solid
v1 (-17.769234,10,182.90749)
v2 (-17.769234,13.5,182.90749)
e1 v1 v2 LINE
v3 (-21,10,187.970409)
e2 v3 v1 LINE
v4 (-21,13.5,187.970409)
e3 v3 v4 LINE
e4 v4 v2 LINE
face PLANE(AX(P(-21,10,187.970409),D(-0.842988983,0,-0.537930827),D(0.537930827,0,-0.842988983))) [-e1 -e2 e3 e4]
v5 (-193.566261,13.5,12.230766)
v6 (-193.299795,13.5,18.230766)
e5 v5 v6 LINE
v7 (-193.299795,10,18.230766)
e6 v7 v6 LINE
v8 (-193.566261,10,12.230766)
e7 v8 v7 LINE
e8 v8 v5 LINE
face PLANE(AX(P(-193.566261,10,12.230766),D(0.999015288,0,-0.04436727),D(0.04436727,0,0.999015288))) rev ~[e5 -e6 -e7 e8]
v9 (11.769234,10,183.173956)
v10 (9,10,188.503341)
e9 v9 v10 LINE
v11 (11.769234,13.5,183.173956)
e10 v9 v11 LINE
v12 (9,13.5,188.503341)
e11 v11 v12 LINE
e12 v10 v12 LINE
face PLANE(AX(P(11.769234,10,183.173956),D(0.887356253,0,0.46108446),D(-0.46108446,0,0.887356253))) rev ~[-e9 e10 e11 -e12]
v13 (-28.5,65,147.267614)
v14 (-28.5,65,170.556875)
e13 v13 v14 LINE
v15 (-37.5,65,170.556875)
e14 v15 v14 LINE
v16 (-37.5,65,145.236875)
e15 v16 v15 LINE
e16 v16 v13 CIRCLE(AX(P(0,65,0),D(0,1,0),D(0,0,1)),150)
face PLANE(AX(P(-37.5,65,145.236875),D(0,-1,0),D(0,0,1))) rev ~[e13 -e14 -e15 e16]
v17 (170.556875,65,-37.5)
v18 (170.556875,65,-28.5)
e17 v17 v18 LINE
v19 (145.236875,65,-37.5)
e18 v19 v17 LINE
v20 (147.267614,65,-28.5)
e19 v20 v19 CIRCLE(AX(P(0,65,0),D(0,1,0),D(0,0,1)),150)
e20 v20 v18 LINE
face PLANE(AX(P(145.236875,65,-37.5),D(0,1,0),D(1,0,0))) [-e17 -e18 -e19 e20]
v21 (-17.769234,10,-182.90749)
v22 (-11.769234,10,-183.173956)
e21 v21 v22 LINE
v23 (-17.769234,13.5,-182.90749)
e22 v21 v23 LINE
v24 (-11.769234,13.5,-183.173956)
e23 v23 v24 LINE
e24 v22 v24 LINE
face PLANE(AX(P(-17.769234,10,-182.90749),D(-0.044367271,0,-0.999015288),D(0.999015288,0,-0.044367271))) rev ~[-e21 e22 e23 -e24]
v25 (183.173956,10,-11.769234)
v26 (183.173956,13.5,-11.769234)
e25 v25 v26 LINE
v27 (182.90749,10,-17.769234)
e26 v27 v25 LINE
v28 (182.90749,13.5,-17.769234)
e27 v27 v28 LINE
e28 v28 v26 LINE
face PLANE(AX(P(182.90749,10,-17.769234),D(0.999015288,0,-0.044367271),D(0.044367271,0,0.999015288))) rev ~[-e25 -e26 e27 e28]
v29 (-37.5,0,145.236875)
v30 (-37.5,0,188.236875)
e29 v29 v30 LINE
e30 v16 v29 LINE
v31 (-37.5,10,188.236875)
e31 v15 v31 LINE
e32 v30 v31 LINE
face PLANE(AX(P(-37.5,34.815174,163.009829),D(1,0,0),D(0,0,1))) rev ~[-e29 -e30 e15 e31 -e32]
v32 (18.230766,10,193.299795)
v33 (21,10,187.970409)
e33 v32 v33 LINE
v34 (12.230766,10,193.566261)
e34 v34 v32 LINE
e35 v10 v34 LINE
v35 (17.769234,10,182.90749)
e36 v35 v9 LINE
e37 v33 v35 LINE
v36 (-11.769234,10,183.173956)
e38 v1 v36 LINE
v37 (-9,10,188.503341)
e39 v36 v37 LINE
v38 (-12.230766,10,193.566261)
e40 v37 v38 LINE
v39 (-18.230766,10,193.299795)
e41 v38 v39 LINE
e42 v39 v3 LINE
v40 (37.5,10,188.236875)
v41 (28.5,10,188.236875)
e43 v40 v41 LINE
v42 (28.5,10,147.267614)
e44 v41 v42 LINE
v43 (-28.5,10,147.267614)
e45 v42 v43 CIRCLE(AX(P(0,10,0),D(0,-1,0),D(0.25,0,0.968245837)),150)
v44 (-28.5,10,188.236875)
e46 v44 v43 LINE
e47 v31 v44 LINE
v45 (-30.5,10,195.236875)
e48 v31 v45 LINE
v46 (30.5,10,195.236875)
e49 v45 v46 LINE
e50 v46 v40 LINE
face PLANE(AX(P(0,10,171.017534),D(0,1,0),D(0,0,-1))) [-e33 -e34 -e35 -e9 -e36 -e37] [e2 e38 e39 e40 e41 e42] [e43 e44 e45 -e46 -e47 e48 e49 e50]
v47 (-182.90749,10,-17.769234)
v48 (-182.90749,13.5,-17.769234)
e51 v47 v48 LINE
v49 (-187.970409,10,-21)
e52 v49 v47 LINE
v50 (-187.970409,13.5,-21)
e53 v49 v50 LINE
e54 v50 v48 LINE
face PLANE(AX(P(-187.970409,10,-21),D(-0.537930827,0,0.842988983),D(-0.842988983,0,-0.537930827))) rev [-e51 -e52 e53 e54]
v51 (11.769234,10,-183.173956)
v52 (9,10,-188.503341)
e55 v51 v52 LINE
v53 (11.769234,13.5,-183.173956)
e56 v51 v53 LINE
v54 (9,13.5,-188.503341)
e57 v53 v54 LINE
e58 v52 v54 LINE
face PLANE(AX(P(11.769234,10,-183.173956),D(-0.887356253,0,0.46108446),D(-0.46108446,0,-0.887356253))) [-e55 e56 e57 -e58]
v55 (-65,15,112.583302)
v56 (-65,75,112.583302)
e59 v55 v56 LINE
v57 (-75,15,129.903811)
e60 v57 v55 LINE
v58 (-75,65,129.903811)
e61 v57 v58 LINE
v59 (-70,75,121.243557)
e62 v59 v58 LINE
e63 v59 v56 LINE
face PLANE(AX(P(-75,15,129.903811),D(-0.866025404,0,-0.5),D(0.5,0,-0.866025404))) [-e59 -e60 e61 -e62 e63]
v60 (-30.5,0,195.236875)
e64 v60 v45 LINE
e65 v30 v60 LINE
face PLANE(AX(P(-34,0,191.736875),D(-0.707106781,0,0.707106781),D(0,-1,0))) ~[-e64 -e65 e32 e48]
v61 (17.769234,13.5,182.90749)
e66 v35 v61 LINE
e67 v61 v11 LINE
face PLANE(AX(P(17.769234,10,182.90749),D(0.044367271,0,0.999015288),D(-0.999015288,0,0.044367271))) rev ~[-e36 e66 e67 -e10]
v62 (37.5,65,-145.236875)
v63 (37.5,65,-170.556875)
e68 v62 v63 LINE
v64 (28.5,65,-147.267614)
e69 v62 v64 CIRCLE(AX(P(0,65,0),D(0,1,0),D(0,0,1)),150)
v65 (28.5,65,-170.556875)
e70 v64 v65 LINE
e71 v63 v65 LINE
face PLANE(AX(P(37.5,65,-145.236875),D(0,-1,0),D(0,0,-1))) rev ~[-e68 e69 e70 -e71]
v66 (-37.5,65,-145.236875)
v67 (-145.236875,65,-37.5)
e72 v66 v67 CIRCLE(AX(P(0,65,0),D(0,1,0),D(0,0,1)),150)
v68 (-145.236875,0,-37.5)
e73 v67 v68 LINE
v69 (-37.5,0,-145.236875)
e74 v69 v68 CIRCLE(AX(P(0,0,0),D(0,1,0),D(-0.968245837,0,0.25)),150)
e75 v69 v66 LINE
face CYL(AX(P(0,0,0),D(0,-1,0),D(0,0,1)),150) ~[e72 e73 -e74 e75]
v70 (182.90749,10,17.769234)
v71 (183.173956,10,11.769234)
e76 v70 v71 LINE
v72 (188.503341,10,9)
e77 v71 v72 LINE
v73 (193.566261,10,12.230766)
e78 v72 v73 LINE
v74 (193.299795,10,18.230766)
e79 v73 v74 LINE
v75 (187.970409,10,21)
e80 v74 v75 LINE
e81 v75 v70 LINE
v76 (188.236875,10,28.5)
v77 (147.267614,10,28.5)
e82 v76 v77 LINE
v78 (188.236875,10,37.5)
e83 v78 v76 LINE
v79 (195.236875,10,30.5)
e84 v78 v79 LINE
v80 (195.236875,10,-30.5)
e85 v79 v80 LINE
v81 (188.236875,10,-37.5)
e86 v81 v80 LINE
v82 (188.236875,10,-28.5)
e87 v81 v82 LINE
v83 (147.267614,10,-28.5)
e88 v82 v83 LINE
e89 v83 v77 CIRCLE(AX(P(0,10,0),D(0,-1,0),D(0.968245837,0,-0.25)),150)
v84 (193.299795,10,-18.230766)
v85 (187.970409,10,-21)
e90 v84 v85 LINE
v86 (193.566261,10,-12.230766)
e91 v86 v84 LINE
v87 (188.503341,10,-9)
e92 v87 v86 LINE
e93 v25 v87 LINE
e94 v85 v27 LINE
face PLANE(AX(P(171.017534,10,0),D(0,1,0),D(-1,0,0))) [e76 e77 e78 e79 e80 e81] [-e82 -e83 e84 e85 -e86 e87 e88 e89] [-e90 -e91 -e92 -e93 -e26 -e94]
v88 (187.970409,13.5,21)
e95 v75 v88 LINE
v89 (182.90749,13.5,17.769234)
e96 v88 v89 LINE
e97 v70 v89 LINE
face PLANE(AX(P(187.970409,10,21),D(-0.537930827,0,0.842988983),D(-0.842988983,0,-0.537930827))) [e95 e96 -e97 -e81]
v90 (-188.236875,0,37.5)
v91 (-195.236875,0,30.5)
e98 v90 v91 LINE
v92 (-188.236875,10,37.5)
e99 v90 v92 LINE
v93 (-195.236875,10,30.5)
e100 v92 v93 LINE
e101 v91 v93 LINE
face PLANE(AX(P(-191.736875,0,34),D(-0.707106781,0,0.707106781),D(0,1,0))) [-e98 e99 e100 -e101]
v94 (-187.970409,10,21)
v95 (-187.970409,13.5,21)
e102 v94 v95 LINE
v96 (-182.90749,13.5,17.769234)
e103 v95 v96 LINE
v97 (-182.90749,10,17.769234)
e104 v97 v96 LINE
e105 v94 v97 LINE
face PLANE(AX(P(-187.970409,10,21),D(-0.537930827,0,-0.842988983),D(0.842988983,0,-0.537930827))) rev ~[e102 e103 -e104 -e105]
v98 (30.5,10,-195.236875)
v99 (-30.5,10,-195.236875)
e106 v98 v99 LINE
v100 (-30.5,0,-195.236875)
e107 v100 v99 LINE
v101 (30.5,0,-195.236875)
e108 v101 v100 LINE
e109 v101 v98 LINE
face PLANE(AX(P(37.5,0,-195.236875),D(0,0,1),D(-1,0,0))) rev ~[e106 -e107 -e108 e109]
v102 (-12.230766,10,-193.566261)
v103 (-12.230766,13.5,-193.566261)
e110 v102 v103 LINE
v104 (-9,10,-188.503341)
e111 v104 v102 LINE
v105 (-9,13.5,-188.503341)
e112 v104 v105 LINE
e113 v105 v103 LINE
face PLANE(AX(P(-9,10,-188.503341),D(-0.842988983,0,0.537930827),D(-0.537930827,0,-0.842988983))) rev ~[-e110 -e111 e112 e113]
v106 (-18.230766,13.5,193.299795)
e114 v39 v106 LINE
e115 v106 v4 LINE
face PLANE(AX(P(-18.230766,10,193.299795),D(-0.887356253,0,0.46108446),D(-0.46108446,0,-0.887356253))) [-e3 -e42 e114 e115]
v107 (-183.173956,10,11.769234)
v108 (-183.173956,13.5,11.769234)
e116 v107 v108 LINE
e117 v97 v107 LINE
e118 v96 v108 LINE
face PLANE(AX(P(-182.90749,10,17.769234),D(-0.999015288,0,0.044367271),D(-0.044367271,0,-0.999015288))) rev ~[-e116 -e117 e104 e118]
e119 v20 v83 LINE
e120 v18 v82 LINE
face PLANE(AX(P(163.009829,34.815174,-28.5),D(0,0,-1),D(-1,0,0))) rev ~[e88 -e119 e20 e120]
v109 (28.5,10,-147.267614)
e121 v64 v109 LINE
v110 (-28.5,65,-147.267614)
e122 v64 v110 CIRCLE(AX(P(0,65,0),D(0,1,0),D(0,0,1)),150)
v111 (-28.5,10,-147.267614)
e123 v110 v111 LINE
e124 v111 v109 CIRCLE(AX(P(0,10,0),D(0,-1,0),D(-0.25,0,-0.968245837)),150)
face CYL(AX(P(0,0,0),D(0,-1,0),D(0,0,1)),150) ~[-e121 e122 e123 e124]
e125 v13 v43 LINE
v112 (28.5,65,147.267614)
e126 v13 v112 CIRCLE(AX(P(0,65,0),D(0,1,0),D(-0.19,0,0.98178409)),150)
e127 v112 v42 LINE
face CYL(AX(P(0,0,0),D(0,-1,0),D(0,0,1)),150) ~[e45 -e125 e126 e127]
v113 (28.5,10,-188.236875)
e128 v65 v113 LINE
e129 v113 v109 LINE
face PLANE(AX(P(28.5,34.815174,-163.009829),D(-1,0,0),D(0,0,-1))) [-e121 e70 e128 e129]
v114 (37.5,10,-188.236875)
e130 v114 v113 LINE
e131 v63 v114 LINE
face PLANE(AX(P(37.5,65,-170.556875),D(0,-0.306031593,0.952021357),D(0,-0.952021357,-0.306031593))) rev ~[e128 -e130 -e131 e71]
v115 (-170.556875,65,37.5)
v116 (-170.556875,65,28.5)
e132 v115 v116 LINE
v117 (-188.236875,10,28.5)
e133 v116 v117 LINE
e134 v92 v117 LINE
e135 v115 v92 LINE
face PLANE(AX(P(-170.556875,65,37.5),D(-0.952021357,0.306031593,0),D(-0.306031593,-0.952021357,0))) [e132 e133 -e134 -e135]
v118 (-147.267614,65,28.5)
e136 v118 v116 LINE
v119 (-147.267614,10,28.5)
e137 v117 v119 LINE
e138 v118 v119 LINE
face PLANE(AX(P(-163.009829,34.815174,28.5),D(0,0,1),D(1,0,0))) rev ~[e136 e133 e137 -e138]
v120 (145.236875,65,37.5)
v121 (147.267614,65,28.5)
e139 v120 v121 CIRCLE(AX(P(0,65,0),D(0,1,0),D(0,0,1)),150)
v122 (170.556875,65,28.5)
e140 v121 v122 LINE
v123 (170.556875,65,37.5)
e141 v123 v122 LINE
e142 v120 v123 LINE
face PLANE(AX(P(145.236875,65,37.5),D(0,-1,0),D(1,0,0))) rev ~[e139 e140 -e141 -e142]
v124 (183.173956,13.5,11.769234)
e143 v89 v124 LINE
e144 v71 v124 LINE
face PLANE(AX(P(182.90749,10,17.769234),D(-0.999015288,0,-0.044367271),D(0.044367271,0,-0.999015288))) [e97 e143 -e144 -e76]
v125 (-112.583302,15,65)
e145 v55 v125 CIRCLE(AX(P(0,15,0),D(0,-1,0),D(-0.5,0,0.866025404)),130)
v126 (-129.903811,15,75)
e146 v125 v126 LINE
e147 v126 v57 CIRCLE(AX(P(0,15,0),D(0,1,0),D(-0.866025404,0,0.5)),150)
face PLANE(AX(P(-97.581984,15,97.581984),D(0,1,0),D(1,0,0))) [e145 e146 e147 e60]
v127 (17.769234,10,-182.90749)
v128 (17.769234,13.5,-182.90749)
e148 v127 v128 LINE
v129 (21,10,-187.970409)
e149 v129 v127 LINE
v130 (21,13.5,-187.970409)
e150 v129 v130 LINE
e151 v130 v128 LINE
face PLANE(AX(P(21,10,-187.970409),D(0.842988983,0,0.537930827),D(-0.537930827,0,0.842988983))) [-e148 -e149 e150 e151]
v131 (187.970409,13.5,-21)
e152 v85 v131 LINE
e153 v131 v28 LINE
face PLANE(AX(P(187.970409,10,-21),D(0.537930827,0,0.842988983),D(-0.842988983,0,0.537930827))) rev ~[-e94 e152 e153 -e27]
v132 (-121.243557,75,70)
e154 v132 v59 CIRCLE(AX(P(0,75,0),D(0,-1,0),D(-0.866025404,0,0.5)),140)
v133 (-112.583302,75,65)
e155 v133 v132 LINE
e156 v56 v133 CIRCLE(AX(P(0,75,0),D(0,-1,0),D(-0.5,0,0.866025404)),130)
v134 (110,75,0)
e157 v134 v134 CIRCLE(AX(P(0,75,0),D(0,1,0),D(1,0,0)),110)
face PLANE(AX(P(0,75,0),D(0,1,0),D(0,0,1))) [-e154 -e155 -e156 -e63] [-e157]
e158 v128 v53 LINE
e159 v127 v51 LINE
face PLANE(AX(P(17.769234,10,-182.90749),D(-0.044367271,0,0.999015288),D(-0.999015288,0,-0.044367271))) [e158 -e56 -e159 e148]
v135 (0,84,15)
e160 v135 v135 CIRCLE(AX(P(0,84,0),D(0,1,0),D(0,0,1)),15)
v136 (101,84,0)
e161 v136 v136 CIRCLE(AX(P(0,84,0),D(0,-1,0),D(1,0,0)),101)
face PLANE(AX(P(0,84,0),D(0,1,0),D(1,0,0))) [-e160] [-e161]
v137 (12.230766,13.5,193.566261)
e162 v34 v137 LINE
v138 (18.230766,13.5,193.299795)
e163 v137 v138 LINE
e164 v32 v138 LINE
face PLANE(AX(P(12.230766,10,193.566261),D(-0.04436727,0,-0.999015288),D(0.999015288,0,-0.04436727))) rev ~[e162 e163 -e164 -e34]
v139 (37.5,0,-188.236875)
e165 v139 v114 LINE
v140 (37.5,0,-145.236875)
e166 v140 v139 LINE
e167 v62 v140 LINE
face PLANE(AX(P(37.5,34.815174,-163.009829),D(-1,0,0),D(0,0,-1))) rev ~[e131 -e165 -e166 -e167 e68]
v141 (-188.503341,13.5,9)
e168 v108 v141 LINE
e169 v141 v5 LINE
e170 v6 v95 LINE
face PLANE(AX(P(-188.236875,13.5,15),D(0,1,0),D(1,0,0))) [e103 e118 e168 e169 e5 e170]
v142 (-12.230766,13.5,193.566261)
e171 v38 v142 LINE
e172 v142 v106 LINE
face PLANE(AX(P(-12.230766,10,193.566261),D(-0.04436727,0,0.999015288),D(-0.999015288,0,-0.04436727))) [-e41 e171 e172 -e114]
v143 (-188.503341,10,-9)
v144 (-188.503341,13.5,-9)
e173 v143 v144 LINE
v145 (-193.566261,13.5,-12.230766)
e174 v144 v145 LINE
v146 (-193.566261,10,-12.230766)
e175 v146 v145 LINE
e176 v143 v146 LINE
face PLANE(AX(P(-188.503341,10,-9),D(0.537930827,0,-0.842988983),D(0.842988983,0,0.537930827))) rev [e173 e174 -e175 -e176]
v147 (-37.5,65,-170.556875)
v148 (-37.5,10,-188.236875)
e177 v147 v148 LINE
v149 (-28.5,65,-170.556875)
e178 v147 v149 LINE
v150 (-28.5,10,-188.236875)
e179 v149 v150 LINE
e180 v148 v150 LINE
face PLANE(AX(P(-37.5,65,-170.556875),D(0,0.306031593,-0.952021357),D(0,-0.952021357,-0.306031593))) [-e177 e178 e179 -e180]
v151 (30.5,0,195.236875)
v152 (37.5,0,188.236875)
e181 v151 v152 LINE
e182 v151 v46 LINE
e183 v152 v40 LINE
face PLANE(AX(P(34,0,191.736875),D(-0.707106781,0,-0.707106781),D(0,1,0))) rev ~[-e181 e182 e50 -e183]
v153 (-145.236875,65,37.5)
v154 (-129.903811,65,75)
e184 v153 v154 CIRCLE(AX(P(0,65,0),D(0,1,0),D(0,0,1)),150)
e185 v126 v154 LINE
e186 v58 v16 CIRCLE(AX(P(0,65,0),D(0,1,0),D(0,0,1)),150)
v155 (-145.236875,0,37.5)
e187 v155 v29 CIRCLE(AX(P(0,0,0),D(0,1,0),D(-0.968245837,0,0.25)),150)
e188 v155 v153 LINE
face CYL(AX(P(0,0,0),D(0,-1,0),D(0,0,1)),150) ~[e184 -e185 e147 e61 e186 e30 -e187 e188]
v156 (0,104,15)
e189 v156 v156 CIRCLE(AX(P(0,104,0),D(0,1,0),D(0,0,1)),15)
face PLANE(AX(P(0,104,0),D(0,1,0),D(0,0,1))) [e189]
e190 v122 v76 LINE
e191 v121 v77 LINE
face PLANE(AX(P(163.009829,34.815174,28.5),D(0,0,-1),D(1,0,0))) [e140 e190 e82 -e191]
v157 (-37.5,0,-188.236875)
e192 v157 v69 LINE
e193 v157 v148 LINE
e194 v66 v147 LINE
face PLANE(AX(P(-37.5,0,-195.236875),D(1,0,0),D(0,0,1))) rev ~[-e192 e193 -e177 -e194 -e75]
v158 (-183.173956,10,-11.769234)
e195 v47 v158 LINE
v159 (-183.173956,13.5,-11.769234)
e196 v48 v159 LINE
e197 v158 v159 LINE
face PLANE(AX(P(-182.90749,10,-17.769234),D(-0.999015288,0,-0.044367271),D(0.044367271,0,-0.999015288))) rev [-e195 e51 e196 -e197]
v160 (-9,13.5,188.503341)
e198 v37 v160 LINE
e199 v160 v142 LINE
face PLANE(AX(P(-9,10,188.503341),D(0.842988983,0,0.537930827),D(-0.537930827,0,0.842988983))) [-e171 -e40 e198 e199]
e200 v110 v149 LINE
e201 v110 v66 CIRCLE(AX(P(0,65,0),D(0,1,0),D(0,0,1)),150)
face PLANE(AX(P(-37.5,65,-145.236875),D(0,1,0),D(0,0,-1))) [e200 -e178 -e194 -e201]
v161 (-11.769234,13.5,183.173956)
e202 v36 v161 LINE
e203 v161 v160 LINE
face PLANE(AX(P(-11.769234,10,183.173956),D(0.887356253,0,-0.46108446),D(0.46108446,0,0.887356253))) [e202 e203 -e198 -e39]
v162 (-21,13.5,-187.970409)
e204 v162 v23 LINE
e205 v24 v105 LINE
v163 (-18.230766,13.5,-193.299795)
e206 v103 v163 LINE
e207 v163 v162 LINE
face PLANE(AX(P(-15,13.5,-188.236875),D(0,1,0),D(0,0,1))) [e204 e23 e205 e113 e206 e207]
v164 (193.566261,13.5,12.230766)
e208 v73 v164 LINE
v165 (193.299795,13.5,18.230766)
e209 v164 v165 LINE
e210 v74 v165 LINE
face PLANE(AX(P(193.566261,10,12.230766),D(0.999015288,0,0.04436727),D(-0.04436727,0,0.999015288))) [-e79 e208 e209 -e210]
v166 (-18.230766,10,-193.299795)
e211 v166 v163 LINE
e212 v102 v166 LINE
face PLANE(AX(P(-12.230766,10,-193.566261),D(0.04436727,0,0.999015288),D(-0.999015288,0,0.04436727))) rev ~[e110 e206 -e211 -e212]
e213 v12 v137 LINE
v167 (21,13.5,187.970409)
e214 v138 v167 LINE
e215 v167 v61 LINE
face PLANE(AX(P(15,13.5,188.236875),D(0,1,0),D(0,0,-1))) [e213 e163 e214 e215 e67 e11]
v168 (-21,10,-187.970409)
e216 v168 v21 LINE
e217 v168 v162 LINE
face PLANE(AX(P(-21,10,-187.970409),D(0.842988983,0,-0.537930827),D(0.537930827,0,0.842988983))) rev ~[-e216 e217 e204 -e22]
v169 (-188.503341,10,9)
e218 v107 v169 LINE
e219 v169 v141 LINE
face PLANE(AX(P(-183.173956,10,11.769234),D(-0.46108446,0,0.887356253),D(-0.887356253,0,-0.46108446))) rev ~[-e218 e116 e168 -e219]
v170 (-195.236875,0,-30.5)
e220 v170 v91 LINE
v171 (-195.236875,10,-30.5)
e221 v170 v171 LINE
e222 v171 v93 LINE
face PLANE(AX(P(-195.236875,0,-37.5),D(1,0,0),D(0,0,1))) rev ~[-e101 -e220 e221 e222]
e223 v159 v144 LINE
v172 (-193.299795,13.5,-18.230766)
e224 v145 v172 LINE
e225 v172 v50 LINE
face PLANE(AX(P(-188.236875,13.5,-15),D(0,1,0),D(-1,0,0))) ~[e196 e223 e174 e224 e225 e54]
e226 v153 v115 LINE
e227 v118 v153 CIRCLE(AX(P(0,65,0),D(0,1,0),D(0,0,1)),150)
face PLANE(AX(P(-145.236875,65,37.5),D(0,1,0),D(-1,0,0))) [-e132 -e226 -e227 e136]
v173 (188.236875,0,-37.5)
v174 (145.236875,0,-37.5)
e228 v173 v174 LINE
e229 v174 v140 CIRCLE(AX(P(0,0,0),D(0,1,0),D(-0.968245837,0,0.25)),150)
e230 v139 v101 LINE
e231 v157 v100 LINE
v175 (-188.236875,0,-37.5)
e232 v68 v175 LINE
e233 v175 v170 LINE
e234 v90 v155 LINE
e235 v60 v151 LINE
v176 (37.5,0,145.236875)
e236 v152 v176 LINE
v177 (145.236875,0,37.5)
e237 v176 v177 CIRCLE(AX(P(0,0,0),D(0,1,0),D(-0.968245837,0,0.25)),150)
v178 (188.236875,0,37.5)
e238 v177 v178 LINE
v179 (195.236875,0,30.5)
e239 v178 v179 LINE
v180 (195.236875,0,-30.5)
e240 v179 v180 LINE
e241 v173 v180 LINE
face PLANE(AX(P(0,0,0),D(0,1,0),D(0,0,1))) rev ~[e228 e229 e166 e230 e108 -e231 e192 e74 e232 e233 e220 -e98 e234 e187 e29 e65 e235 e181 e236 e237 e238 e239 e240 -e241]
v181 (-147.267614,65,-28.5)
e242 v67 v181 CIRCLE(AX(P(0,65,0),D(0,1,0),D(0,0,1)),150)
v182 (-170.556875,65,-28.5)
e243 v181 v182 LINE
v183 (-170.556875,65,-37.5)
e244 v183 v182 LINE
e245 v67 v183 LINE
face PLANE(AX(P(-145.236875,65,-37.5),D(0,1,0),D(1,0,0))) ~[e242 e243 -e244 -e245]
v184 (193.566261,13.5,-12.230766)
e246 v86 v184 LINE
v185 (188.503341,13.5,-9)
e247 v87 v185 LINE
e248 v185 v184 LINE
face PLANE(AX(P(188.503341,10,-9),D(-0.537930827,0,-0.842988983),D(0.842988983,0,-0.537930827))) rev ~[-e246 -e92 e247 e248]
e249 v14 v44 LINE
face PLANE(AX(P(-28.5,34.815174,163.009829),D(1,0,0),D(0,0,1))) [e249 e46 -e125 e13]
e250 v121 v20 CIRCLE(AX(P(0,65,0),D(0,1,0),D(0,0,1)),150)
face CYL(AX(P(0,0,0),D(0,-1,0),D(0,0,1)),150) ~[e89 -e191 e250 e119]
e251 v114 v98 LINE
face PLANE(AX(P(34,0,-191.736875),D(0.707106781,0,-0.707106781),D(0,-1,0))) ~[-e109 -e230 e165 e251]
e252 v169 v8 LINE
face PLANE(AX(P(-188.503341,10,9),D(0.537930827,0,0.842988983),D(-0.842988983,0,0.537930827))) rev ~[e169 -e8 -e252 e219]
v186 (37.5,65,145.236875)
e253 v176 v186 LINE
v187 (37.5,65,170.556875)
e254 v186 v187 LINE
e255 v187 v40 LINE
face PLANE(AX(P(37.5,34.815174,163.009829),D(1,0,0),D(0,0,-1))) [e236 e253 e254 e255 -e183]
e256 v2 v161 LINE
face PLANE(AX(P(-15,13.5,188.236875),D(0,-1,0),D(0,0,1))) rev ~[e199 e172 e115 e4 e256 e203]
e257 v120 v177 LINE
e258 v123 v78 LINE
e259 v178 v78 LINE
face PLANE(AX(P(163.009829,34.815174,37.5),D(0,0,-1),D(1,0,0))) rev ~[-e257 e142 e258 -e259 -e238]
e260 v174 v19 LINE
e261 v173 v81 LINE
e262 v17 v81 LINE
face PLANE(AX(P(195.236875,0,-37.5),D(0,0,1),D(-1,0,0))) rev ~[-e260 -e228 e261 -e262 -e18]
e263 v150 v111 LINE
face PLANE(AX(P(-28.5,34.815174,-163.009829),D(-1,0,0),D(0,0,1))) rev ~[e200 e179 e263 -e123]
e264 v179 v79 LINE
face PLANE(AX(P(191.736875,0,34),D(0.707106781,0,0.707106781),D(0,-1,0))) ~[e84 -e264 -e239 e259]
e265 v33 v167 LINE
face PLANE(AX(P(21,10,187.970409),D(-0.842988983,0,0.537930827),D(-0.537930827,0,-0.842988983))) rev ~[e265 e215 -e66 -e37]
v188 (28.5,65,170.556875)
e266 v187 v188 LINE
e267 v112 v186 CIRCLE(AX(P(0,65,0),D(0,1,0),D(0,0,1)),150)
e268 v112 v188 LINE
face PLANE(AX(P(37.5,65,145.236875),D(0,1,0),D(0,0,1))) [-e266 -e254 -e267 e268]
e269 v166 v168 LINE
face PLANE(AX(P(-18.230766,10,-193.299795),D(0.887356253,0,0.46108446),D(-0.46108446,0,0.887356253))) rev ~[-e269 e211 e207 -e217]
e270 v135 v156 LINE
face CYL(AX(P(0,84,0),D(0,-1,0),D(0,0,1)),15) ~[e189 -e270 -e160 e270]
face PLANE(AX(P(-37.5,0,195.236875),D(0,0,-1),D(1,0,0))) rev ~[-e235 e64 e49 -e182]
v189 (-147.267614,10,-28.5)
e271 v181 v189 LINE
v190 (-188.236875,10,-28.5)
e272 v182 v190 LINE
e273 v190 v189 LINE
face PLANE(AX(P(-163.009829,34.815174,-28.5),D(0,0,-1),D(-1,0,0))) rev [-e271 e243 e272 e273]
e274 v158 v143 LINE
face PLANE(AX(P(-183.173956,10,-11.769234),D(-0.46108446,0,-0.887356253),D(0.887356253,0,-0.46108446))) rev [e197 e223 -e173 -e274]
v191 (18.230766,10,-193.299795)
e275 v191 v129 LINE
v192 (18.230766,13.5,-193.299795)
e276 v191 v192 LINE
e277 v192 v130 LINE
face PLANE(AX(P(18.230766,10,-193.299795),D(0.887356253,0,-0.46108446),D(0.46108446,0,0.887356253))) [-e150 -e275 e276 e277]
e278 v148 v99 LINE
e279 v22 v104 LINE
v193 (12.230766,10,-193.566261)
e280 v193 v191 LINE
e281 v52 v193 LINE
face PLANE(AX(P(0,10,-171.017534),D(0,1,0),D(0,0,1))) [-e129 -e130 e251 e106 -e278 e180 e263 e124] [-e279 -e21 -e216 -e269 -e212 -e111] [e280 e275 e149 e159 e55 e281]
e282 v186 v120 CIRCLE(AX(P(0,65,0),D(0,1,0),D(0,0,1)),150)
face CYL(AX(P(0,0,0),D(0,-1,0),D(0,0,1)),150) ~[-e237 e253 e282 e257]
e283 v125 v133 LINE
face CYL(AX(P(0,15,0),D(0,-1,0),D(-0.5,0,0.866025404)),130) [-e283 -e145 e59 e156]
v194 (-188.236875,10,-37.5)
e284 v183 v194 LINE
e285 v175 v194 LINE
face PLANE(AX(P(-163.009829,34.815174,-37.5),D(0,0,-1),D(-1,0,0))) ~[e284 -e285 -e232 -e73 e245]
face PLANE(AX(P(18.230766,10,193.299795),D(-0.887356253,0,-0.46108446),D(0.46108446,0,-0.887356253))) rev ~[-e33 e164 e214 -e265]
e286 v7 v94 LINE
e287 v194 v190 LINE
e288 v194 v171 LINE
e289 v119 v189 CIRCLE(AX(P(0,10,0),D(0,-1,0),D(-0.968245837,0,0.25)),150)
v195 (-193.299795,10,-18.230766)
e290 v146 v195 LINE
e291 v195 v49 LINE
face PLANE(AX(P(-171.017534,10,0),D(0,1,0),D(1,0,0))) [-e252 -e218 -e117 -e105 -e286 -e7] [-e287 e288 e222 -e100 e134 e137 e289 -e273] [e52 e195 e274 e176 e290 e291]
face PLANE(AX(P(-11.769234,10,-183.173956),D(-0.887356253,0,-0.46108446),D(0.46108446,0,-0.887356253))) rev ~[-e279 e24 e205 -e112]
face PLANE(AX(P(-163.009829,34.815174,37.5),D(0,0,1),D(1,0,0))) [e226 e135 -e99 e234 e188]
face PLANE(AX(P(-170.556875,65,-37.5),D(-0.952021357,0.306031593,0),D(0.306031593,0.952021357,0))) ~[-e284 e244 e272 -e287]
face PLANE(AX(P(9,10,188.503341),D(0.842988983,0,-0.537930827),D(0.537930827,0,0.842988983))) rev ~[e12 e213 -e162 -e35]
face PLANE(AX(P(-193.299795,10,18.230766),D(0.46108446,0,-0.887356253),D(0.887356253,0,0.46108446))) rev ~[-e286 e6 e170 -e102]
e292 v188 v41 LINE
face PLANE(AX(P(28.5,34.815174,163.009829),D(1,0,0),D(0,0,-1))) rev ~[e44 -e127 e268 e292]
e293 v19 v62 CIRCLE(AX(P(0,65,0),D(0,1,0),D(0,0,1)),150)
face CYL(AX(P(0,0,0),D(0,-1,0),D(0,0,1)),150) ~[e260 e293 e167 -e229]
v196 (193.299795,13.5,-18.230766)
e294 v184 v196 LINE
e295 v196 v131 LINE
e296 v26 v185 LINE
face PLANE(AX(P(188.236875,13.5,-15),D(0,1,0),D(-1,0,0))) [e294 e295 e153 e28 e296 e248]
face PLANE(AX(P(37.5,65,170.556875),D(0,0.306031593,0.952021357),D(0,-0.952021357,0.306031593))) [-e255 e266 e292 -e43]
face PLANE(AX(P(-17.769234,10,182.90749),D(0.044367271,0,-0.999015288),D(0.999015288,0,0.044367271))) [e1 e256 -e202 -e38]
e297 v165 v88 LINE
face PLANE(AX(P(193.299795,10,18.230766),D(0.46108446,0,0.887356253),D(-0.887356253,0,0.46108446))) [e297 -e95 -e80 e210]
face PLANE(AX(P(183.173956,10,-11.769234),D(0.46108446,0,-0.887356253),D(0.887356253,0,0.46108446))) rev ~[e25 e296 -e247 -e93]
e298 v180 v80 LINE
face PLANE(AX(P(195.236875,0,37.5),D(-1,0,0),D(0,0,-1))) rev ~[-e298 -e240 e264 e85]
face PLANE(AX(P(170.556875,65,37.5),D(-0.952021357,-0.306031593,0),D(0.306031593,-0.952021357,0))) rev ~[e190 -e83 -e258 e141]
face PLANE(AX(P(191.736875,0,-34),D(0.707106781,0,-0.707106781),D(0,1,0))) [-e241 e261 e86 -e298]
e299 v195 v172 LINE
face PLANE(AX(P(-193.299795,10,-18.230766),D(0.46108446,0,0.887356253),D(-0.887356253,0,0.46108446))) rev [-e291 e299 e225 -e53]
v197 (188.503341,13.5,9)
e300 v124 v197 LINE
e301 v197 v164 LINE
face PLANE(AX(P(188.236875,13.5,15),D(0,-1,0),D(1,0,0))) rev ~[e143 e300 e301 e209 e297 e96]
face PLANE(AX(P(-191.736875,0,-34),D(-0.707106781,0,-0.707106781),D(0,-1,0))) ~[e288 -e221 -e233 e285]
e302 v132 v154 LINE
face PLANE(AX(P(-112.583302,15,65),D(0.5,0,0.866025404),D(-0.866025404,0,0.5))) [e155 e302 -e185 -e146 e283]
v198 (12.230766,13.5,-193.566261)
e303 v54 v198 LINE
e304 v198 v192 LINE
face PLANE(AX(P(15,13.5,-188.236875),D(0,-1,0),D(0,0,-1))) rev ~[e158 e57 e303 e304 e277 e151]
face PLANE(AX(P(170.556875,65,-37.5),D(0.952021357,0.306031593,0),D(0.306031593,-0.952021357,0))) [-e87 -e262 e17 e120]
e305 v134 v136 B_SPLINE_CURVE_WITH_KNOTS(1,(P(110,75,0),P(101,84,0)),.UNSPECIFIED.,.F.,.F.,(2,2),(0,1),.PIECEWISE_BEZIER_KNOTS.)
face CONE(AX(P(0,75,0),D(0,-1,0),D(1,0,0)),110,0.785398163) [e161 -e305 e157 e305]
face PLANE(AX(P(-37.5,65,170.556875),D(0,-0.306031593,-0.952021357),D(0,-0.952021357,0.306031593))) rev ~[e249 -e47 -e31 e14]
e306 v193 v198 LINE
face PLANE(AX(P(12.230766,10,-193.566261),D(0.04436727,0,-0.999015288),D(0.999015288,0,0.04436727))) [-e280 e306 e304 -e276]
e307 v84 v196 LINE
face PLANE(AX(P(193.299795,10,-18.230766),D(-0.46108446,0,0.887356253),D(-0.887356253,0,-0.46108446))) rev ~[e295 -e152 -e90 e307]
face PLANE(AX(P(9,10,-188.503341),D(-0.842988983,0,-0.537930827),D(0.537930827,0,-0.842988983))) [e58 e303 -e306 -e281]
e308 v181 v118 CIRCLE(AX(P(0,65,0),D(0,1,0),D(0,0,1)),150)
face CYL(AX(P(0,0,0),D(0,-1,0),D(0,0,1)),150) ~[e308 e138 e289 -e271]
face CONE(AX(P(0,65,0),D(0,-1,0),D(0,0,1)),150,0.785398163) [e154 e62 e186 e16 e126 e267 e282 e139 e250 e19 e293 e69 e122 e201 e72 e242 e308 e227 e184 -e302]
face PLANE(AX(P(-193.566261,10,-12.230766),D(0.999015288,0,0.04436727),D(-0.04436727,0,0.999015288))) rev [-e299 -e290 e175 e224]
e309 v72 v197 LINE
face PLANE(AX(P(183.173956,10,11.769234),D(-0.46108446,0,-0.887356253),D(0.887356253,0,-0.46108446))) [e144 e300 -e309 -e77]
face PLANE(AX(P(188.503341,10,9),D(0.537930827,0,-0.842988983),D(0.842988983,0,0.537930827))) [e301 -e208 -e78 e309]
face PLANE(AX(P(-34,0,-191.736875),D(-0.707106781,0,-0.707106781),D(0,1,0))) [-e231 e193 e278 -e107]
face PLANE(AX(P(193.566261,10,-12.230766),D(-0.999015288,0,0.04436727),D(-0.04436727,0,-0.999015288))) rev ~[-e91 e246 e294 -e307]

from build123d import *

# Parameters (mm, degrees)
SKETCH1_R                    = 150
BOSS_EXTRUDE1_DEPTH          = 75
CHAMFER1_SIZE                = 10
BOSS_EXTRUDE2_START          = -75
BOSS_EXTRUDE2_DEPTH          = 10
CHAMFER2_SIZE                = 7
BOSS_EXTRUDE3_DEPTH          = 9
BOSS_EXTRUDE4_DEPTH          = 3.5
CIRPATTERN2_COUNT            = 4
CIRPATTERN2_COPY_1_DEPTH     = 9
CIRPATTERN2_COPY_2_DEPTH     = 9
CIRPATTERN2_COPY_3_DEPTH     = 9
CIRPATTERN2_COPY_4_DEPTH     = 3.5
CIRPATTERN2_COPY_5_DEPTH     = 3.5
CIRPATTERN2_COPY_6_DEPTH     = 3.5
CHAMFER2_OF_CIRPATTERN2_SIZE = 7
CUT_EXTRUDE2_START           = -60
CUT_EXTRUDE2_DEPTH           = 60
SKETCH7_R                    = 110
BOSS_EXTRUDE5_DEPTH          = 9
BOSS_EXTRUDE5_TAPER          = 45
SKETCH8_R                    = 15
BOSS_EXTRUDE6_DEPTH          = 20


with BuildPart() as part:
    # Sketch1 → Boss-Extrude1 (new body)
    with BuildSketch(Plane(origin=(0, 0, 0), x_dir=(1, 0, 0), z_dir=(0, 1, 0))):
        with Locations(Location((0, 0, 0), (0, 0, 270))):
            Circle(SKETCH1_R)
    extrude(amount=BOSS_EXTRUDE1_DEPTH)

    # Chamfer1
    chamfer1_edges = [part.edges().sort_by_distance(p)[0] for p in [
        (0, 75, -150),
    ]]
    chamfer(chamfer1_edges, length=CHAMFER1_SIZE)

    # Sketch2 → Boss-Extrude2 (add)
    with BuildSketch(Plane(origin=(0, 75, 0), x_dir=(1, 0, 0), z_dir=(0, 1, 0)).offset(BOSS_EXTRUDE2_START)):
        with BuildLine():
            Line((-145.236875483, 37.5), (-195.236875483, 37.5))
            Line((-195.236875483, 37.5), (-195.236875483, -37.5))
            Line((-195.236875483, -37.5), (-145.236875483, -37.5))
            ThreePointArc((-145.236875483, -37.5), (-150, 0), (-145.236875483, 37.5))
        make_face()
    boss_extrude2 = extrude(amount=BOSS_EXTRUDE2_DEPTH)

    # Chamfer2
    chamfer2_edges = [part.edges().sort_by_distance(p)[0] for p in [
        (-195.236875483, 5, -37.5),
        (-195.236875483, 5, 37.5),
    ]]
    chamfer(chamfer2_edges, length=CHAMFER2_SIZE)

    # Sketch4 → Boss-Extrude3 (add)
    with BuildSketch(Plane.XY.offset(37.5)):
        Polygon((-188.236875483, 10), (-145.236875483, 10), (-145.236875483, 65), (-170.556875483, 65), align=None)
    boss_extrude3 = extrude(amount=-BOSS_EXTRUDE3_DEPTH)

    # Sketch5 → Boss-Extrude4 (add)
    with BuildSketch(Plane(origin=(0, 10, 0), x_dir=(1, 0, 0), z_dir=(0, 1, 0))):
        Polygon((-183.173956068, -11.769233661), (-188.503341499, -9), (-193.566260913, -12.230766339), (-193.299794898, -18.230766339), (-187.970409467, -21), (-182.907490052, -17.769233661), align=None)
    boss_extrude4 = extrude(amount=BOSS_EXTRUDE4_DEPTH)

    # Mirror1: Boss-Extrude3, Boss-Extrude4 across plane
    add(boss_extrude3.mirror(Plane.XY))
    add(boss_extrude4.mirror(Plane.XY))

    # CirPattern2: Boss-Extrude2, Boss-Extrude3, Boss-Extrude4 ×4 about axis
    cirpattern2_axis = Axis((0, 0, 0), (0, 1, 0))
    add([boss_extrude2.rotate(cirpattern2_axis, i * 360 / CIRPATTERN2_COUNT) for i in range(1, CIRPATTERN2_COUNT)])
    add([boss_extrude3.rotate(cirpattern2_axis, i * 360 / CIRPATTERN2_COUNT) for i in range(1, CIRPATTERN2_COUNT)])
    add([boss_extrude4.rotate(cirpattern2_axis, i * 360 / CIRPATTERN2_COUNT) for i in range(1, CIRPATTERN2_COUNT)])

    # CirPattern2 copy 1 sketch → CirPattern2 copy 1 (add)
    with BuildSketch(Plane(origin=(-37.5, 0, 0), x_dir=(0, 0, -1), z_dir=(-1, 0, 0))):
        Polygon((-188.236875483, -10), (-145.236875483, -10), (-145.236875483, -65), (-170.556875483, -65), align=None)
    extrude(amount=-CIRPATTERN2_COPY_1_DEPTH)

    # CirPattern2 copy 2 sketch → CirPattern2 copy 2 (add)
    with BuildSketch(Plane(origin=(0, 0, 37.5), x_dir=(-1, 0, 0), z_dir=(0, 0, 1))):
        Polygon((-188.236875483, -10), (-145.236875483, -10), (-145.236875483, -65), (-170.556875483, -65), align=None)
    extrude(amount=-CIRPATTERN2_COPY_2_DEPTH)

    # CirPattern2 copy 3 sketch → CirPattern2 copy 3 (add)
    with BuildSketch(Plane(origin=(37.5, 0, 0), x_dir=(0, 0, 1), z_dir=(1, 0, 0))):
        Polygon((-188.236875483, -10), (-145.236875483, -10), (-145.236875483, -65), (-170.556875483, -65), align=None)
    extrude(amount=-CIRPATTERN2_COPY_3_DEPTH)

    # CirPattern2 copy 4 sketch → CirPattern2 copy 4 (add)
    with BuildSketch(Plane(origin=(0, 10, 0), x_dir=(0, 0, -1), z_dir=(0, 1, 0))):
        Polygon((-183.173956068, 11.769233661), (-188.503341499, 9), (-193.566260913, 12.230766339), (-193.299794898, 18.230766339), (-187.970409467, 21), (-182.907490052, 17.769233661), align=None)
    extrude(amount=CIRPATTERN2_COPY_4_DEPTH)

    # CirPattern2 copy 5 sketch → CirPattern2 copy 5 (add)
    with BuildSketch(Plane(origin=(0, 10, 0), x_dir=(-1, 0, 0), z_dir=(0, 1, 0))):
        Polygon((-183.173956068, 11.769233661), (-188.503341499, 9), (-193.566260913, 12.230766339), (-193.299794898, 18.230766339), (-187.970409467, 21), (-182.907490052, 17.769233661), align=None)
    extrude(amount=CIRPATTERN2_COPY_5_DEPTH)

    # CirPattern2 copy 6 sketch → CirPattern2 copy 6 (add)
    with BuildSketch(Plane.ZX.offset(10)):
        Polygon((-183.173956068, 11.769233661), (-188.503341499, 9), (-193.566260913, 12.230766339), (-193.299794898, 18.230766339), (-187.970409467, 21), (-182.907490052, 17.769233661), align=None)
    extrude(amount=CIRPATTERN2_COPY_6_DEPTH)

    # Chamfer2 of CirPattern2
    chamfer2_of_cirpattern2_edges = [part.edges().sort_by_distance(p)[0] for p in [
        (-37.5, 5, 195.236875483),
        (37.5, 5, 195.236875483),
        (195.236875483, 5, 37.5),
        (195.236875483, 5, -37.5),
        (37.5, 5, -195.236875483),
        (-37.5, 5, -195.236875483),
    ]]
    chamfer(chamfer2_of_cirpattern2_edges, length=CHAMFER2_OF_CIRPATTERN2_SIZE)

    # Sketch6 → Cut-Extrude2 (cut)
    with BuildSketch(Plane(origin=(0, 75, 0), x_dir=(1, 0, 0), z_dir=(0, 1, 0)).offset(CUT_EXTRUDE2_START)):
        with BuildLine():
            Line((-112.583302492, -65), (-129.903810568, -75))
            ThreePointArc((-129.903810568, -75), (-106.066017178, -106.066017178), (-75, -129.903810568))
            Line((-75, -129.903810568), (-65, -112.583302492))
            ThreePointArc((-65, -112.583302492), (-91.923881554, -91.923881554), (-112.583302492, -65))
        make_face()
    extrude(amount=CUT_EXTRUDE2_DEPTH, mode=Mode.SUBTRACT)

    # Sketch7 → Boss-Extrude5 (add)
    with BuildSketch(Plane(origin=(0, 75, 0), x_dir=(1, 0, 0), z_dir=(0, 1, 0))):
        Circle(SKETCH7_R)
    extrude(amount=BOSS_EXTRUDE5_DEPTH, taper=BOSS_EXTRUDE5_TAPER)

    # Sketch8 → Boss-Extrude6 (add)
    with BuildSketch(Plane(origin=(0, 84, 0), x_dir=(1, 0, 0), z_dir=(0, 1, 0))):
        with Locations(Location((0, 0, 0), (0, 0, 270))):
            Circle(SKETCH8_R)
    extrude(amount=BOSS_EXTRUDE6_DEPTH)


solid = part.part
